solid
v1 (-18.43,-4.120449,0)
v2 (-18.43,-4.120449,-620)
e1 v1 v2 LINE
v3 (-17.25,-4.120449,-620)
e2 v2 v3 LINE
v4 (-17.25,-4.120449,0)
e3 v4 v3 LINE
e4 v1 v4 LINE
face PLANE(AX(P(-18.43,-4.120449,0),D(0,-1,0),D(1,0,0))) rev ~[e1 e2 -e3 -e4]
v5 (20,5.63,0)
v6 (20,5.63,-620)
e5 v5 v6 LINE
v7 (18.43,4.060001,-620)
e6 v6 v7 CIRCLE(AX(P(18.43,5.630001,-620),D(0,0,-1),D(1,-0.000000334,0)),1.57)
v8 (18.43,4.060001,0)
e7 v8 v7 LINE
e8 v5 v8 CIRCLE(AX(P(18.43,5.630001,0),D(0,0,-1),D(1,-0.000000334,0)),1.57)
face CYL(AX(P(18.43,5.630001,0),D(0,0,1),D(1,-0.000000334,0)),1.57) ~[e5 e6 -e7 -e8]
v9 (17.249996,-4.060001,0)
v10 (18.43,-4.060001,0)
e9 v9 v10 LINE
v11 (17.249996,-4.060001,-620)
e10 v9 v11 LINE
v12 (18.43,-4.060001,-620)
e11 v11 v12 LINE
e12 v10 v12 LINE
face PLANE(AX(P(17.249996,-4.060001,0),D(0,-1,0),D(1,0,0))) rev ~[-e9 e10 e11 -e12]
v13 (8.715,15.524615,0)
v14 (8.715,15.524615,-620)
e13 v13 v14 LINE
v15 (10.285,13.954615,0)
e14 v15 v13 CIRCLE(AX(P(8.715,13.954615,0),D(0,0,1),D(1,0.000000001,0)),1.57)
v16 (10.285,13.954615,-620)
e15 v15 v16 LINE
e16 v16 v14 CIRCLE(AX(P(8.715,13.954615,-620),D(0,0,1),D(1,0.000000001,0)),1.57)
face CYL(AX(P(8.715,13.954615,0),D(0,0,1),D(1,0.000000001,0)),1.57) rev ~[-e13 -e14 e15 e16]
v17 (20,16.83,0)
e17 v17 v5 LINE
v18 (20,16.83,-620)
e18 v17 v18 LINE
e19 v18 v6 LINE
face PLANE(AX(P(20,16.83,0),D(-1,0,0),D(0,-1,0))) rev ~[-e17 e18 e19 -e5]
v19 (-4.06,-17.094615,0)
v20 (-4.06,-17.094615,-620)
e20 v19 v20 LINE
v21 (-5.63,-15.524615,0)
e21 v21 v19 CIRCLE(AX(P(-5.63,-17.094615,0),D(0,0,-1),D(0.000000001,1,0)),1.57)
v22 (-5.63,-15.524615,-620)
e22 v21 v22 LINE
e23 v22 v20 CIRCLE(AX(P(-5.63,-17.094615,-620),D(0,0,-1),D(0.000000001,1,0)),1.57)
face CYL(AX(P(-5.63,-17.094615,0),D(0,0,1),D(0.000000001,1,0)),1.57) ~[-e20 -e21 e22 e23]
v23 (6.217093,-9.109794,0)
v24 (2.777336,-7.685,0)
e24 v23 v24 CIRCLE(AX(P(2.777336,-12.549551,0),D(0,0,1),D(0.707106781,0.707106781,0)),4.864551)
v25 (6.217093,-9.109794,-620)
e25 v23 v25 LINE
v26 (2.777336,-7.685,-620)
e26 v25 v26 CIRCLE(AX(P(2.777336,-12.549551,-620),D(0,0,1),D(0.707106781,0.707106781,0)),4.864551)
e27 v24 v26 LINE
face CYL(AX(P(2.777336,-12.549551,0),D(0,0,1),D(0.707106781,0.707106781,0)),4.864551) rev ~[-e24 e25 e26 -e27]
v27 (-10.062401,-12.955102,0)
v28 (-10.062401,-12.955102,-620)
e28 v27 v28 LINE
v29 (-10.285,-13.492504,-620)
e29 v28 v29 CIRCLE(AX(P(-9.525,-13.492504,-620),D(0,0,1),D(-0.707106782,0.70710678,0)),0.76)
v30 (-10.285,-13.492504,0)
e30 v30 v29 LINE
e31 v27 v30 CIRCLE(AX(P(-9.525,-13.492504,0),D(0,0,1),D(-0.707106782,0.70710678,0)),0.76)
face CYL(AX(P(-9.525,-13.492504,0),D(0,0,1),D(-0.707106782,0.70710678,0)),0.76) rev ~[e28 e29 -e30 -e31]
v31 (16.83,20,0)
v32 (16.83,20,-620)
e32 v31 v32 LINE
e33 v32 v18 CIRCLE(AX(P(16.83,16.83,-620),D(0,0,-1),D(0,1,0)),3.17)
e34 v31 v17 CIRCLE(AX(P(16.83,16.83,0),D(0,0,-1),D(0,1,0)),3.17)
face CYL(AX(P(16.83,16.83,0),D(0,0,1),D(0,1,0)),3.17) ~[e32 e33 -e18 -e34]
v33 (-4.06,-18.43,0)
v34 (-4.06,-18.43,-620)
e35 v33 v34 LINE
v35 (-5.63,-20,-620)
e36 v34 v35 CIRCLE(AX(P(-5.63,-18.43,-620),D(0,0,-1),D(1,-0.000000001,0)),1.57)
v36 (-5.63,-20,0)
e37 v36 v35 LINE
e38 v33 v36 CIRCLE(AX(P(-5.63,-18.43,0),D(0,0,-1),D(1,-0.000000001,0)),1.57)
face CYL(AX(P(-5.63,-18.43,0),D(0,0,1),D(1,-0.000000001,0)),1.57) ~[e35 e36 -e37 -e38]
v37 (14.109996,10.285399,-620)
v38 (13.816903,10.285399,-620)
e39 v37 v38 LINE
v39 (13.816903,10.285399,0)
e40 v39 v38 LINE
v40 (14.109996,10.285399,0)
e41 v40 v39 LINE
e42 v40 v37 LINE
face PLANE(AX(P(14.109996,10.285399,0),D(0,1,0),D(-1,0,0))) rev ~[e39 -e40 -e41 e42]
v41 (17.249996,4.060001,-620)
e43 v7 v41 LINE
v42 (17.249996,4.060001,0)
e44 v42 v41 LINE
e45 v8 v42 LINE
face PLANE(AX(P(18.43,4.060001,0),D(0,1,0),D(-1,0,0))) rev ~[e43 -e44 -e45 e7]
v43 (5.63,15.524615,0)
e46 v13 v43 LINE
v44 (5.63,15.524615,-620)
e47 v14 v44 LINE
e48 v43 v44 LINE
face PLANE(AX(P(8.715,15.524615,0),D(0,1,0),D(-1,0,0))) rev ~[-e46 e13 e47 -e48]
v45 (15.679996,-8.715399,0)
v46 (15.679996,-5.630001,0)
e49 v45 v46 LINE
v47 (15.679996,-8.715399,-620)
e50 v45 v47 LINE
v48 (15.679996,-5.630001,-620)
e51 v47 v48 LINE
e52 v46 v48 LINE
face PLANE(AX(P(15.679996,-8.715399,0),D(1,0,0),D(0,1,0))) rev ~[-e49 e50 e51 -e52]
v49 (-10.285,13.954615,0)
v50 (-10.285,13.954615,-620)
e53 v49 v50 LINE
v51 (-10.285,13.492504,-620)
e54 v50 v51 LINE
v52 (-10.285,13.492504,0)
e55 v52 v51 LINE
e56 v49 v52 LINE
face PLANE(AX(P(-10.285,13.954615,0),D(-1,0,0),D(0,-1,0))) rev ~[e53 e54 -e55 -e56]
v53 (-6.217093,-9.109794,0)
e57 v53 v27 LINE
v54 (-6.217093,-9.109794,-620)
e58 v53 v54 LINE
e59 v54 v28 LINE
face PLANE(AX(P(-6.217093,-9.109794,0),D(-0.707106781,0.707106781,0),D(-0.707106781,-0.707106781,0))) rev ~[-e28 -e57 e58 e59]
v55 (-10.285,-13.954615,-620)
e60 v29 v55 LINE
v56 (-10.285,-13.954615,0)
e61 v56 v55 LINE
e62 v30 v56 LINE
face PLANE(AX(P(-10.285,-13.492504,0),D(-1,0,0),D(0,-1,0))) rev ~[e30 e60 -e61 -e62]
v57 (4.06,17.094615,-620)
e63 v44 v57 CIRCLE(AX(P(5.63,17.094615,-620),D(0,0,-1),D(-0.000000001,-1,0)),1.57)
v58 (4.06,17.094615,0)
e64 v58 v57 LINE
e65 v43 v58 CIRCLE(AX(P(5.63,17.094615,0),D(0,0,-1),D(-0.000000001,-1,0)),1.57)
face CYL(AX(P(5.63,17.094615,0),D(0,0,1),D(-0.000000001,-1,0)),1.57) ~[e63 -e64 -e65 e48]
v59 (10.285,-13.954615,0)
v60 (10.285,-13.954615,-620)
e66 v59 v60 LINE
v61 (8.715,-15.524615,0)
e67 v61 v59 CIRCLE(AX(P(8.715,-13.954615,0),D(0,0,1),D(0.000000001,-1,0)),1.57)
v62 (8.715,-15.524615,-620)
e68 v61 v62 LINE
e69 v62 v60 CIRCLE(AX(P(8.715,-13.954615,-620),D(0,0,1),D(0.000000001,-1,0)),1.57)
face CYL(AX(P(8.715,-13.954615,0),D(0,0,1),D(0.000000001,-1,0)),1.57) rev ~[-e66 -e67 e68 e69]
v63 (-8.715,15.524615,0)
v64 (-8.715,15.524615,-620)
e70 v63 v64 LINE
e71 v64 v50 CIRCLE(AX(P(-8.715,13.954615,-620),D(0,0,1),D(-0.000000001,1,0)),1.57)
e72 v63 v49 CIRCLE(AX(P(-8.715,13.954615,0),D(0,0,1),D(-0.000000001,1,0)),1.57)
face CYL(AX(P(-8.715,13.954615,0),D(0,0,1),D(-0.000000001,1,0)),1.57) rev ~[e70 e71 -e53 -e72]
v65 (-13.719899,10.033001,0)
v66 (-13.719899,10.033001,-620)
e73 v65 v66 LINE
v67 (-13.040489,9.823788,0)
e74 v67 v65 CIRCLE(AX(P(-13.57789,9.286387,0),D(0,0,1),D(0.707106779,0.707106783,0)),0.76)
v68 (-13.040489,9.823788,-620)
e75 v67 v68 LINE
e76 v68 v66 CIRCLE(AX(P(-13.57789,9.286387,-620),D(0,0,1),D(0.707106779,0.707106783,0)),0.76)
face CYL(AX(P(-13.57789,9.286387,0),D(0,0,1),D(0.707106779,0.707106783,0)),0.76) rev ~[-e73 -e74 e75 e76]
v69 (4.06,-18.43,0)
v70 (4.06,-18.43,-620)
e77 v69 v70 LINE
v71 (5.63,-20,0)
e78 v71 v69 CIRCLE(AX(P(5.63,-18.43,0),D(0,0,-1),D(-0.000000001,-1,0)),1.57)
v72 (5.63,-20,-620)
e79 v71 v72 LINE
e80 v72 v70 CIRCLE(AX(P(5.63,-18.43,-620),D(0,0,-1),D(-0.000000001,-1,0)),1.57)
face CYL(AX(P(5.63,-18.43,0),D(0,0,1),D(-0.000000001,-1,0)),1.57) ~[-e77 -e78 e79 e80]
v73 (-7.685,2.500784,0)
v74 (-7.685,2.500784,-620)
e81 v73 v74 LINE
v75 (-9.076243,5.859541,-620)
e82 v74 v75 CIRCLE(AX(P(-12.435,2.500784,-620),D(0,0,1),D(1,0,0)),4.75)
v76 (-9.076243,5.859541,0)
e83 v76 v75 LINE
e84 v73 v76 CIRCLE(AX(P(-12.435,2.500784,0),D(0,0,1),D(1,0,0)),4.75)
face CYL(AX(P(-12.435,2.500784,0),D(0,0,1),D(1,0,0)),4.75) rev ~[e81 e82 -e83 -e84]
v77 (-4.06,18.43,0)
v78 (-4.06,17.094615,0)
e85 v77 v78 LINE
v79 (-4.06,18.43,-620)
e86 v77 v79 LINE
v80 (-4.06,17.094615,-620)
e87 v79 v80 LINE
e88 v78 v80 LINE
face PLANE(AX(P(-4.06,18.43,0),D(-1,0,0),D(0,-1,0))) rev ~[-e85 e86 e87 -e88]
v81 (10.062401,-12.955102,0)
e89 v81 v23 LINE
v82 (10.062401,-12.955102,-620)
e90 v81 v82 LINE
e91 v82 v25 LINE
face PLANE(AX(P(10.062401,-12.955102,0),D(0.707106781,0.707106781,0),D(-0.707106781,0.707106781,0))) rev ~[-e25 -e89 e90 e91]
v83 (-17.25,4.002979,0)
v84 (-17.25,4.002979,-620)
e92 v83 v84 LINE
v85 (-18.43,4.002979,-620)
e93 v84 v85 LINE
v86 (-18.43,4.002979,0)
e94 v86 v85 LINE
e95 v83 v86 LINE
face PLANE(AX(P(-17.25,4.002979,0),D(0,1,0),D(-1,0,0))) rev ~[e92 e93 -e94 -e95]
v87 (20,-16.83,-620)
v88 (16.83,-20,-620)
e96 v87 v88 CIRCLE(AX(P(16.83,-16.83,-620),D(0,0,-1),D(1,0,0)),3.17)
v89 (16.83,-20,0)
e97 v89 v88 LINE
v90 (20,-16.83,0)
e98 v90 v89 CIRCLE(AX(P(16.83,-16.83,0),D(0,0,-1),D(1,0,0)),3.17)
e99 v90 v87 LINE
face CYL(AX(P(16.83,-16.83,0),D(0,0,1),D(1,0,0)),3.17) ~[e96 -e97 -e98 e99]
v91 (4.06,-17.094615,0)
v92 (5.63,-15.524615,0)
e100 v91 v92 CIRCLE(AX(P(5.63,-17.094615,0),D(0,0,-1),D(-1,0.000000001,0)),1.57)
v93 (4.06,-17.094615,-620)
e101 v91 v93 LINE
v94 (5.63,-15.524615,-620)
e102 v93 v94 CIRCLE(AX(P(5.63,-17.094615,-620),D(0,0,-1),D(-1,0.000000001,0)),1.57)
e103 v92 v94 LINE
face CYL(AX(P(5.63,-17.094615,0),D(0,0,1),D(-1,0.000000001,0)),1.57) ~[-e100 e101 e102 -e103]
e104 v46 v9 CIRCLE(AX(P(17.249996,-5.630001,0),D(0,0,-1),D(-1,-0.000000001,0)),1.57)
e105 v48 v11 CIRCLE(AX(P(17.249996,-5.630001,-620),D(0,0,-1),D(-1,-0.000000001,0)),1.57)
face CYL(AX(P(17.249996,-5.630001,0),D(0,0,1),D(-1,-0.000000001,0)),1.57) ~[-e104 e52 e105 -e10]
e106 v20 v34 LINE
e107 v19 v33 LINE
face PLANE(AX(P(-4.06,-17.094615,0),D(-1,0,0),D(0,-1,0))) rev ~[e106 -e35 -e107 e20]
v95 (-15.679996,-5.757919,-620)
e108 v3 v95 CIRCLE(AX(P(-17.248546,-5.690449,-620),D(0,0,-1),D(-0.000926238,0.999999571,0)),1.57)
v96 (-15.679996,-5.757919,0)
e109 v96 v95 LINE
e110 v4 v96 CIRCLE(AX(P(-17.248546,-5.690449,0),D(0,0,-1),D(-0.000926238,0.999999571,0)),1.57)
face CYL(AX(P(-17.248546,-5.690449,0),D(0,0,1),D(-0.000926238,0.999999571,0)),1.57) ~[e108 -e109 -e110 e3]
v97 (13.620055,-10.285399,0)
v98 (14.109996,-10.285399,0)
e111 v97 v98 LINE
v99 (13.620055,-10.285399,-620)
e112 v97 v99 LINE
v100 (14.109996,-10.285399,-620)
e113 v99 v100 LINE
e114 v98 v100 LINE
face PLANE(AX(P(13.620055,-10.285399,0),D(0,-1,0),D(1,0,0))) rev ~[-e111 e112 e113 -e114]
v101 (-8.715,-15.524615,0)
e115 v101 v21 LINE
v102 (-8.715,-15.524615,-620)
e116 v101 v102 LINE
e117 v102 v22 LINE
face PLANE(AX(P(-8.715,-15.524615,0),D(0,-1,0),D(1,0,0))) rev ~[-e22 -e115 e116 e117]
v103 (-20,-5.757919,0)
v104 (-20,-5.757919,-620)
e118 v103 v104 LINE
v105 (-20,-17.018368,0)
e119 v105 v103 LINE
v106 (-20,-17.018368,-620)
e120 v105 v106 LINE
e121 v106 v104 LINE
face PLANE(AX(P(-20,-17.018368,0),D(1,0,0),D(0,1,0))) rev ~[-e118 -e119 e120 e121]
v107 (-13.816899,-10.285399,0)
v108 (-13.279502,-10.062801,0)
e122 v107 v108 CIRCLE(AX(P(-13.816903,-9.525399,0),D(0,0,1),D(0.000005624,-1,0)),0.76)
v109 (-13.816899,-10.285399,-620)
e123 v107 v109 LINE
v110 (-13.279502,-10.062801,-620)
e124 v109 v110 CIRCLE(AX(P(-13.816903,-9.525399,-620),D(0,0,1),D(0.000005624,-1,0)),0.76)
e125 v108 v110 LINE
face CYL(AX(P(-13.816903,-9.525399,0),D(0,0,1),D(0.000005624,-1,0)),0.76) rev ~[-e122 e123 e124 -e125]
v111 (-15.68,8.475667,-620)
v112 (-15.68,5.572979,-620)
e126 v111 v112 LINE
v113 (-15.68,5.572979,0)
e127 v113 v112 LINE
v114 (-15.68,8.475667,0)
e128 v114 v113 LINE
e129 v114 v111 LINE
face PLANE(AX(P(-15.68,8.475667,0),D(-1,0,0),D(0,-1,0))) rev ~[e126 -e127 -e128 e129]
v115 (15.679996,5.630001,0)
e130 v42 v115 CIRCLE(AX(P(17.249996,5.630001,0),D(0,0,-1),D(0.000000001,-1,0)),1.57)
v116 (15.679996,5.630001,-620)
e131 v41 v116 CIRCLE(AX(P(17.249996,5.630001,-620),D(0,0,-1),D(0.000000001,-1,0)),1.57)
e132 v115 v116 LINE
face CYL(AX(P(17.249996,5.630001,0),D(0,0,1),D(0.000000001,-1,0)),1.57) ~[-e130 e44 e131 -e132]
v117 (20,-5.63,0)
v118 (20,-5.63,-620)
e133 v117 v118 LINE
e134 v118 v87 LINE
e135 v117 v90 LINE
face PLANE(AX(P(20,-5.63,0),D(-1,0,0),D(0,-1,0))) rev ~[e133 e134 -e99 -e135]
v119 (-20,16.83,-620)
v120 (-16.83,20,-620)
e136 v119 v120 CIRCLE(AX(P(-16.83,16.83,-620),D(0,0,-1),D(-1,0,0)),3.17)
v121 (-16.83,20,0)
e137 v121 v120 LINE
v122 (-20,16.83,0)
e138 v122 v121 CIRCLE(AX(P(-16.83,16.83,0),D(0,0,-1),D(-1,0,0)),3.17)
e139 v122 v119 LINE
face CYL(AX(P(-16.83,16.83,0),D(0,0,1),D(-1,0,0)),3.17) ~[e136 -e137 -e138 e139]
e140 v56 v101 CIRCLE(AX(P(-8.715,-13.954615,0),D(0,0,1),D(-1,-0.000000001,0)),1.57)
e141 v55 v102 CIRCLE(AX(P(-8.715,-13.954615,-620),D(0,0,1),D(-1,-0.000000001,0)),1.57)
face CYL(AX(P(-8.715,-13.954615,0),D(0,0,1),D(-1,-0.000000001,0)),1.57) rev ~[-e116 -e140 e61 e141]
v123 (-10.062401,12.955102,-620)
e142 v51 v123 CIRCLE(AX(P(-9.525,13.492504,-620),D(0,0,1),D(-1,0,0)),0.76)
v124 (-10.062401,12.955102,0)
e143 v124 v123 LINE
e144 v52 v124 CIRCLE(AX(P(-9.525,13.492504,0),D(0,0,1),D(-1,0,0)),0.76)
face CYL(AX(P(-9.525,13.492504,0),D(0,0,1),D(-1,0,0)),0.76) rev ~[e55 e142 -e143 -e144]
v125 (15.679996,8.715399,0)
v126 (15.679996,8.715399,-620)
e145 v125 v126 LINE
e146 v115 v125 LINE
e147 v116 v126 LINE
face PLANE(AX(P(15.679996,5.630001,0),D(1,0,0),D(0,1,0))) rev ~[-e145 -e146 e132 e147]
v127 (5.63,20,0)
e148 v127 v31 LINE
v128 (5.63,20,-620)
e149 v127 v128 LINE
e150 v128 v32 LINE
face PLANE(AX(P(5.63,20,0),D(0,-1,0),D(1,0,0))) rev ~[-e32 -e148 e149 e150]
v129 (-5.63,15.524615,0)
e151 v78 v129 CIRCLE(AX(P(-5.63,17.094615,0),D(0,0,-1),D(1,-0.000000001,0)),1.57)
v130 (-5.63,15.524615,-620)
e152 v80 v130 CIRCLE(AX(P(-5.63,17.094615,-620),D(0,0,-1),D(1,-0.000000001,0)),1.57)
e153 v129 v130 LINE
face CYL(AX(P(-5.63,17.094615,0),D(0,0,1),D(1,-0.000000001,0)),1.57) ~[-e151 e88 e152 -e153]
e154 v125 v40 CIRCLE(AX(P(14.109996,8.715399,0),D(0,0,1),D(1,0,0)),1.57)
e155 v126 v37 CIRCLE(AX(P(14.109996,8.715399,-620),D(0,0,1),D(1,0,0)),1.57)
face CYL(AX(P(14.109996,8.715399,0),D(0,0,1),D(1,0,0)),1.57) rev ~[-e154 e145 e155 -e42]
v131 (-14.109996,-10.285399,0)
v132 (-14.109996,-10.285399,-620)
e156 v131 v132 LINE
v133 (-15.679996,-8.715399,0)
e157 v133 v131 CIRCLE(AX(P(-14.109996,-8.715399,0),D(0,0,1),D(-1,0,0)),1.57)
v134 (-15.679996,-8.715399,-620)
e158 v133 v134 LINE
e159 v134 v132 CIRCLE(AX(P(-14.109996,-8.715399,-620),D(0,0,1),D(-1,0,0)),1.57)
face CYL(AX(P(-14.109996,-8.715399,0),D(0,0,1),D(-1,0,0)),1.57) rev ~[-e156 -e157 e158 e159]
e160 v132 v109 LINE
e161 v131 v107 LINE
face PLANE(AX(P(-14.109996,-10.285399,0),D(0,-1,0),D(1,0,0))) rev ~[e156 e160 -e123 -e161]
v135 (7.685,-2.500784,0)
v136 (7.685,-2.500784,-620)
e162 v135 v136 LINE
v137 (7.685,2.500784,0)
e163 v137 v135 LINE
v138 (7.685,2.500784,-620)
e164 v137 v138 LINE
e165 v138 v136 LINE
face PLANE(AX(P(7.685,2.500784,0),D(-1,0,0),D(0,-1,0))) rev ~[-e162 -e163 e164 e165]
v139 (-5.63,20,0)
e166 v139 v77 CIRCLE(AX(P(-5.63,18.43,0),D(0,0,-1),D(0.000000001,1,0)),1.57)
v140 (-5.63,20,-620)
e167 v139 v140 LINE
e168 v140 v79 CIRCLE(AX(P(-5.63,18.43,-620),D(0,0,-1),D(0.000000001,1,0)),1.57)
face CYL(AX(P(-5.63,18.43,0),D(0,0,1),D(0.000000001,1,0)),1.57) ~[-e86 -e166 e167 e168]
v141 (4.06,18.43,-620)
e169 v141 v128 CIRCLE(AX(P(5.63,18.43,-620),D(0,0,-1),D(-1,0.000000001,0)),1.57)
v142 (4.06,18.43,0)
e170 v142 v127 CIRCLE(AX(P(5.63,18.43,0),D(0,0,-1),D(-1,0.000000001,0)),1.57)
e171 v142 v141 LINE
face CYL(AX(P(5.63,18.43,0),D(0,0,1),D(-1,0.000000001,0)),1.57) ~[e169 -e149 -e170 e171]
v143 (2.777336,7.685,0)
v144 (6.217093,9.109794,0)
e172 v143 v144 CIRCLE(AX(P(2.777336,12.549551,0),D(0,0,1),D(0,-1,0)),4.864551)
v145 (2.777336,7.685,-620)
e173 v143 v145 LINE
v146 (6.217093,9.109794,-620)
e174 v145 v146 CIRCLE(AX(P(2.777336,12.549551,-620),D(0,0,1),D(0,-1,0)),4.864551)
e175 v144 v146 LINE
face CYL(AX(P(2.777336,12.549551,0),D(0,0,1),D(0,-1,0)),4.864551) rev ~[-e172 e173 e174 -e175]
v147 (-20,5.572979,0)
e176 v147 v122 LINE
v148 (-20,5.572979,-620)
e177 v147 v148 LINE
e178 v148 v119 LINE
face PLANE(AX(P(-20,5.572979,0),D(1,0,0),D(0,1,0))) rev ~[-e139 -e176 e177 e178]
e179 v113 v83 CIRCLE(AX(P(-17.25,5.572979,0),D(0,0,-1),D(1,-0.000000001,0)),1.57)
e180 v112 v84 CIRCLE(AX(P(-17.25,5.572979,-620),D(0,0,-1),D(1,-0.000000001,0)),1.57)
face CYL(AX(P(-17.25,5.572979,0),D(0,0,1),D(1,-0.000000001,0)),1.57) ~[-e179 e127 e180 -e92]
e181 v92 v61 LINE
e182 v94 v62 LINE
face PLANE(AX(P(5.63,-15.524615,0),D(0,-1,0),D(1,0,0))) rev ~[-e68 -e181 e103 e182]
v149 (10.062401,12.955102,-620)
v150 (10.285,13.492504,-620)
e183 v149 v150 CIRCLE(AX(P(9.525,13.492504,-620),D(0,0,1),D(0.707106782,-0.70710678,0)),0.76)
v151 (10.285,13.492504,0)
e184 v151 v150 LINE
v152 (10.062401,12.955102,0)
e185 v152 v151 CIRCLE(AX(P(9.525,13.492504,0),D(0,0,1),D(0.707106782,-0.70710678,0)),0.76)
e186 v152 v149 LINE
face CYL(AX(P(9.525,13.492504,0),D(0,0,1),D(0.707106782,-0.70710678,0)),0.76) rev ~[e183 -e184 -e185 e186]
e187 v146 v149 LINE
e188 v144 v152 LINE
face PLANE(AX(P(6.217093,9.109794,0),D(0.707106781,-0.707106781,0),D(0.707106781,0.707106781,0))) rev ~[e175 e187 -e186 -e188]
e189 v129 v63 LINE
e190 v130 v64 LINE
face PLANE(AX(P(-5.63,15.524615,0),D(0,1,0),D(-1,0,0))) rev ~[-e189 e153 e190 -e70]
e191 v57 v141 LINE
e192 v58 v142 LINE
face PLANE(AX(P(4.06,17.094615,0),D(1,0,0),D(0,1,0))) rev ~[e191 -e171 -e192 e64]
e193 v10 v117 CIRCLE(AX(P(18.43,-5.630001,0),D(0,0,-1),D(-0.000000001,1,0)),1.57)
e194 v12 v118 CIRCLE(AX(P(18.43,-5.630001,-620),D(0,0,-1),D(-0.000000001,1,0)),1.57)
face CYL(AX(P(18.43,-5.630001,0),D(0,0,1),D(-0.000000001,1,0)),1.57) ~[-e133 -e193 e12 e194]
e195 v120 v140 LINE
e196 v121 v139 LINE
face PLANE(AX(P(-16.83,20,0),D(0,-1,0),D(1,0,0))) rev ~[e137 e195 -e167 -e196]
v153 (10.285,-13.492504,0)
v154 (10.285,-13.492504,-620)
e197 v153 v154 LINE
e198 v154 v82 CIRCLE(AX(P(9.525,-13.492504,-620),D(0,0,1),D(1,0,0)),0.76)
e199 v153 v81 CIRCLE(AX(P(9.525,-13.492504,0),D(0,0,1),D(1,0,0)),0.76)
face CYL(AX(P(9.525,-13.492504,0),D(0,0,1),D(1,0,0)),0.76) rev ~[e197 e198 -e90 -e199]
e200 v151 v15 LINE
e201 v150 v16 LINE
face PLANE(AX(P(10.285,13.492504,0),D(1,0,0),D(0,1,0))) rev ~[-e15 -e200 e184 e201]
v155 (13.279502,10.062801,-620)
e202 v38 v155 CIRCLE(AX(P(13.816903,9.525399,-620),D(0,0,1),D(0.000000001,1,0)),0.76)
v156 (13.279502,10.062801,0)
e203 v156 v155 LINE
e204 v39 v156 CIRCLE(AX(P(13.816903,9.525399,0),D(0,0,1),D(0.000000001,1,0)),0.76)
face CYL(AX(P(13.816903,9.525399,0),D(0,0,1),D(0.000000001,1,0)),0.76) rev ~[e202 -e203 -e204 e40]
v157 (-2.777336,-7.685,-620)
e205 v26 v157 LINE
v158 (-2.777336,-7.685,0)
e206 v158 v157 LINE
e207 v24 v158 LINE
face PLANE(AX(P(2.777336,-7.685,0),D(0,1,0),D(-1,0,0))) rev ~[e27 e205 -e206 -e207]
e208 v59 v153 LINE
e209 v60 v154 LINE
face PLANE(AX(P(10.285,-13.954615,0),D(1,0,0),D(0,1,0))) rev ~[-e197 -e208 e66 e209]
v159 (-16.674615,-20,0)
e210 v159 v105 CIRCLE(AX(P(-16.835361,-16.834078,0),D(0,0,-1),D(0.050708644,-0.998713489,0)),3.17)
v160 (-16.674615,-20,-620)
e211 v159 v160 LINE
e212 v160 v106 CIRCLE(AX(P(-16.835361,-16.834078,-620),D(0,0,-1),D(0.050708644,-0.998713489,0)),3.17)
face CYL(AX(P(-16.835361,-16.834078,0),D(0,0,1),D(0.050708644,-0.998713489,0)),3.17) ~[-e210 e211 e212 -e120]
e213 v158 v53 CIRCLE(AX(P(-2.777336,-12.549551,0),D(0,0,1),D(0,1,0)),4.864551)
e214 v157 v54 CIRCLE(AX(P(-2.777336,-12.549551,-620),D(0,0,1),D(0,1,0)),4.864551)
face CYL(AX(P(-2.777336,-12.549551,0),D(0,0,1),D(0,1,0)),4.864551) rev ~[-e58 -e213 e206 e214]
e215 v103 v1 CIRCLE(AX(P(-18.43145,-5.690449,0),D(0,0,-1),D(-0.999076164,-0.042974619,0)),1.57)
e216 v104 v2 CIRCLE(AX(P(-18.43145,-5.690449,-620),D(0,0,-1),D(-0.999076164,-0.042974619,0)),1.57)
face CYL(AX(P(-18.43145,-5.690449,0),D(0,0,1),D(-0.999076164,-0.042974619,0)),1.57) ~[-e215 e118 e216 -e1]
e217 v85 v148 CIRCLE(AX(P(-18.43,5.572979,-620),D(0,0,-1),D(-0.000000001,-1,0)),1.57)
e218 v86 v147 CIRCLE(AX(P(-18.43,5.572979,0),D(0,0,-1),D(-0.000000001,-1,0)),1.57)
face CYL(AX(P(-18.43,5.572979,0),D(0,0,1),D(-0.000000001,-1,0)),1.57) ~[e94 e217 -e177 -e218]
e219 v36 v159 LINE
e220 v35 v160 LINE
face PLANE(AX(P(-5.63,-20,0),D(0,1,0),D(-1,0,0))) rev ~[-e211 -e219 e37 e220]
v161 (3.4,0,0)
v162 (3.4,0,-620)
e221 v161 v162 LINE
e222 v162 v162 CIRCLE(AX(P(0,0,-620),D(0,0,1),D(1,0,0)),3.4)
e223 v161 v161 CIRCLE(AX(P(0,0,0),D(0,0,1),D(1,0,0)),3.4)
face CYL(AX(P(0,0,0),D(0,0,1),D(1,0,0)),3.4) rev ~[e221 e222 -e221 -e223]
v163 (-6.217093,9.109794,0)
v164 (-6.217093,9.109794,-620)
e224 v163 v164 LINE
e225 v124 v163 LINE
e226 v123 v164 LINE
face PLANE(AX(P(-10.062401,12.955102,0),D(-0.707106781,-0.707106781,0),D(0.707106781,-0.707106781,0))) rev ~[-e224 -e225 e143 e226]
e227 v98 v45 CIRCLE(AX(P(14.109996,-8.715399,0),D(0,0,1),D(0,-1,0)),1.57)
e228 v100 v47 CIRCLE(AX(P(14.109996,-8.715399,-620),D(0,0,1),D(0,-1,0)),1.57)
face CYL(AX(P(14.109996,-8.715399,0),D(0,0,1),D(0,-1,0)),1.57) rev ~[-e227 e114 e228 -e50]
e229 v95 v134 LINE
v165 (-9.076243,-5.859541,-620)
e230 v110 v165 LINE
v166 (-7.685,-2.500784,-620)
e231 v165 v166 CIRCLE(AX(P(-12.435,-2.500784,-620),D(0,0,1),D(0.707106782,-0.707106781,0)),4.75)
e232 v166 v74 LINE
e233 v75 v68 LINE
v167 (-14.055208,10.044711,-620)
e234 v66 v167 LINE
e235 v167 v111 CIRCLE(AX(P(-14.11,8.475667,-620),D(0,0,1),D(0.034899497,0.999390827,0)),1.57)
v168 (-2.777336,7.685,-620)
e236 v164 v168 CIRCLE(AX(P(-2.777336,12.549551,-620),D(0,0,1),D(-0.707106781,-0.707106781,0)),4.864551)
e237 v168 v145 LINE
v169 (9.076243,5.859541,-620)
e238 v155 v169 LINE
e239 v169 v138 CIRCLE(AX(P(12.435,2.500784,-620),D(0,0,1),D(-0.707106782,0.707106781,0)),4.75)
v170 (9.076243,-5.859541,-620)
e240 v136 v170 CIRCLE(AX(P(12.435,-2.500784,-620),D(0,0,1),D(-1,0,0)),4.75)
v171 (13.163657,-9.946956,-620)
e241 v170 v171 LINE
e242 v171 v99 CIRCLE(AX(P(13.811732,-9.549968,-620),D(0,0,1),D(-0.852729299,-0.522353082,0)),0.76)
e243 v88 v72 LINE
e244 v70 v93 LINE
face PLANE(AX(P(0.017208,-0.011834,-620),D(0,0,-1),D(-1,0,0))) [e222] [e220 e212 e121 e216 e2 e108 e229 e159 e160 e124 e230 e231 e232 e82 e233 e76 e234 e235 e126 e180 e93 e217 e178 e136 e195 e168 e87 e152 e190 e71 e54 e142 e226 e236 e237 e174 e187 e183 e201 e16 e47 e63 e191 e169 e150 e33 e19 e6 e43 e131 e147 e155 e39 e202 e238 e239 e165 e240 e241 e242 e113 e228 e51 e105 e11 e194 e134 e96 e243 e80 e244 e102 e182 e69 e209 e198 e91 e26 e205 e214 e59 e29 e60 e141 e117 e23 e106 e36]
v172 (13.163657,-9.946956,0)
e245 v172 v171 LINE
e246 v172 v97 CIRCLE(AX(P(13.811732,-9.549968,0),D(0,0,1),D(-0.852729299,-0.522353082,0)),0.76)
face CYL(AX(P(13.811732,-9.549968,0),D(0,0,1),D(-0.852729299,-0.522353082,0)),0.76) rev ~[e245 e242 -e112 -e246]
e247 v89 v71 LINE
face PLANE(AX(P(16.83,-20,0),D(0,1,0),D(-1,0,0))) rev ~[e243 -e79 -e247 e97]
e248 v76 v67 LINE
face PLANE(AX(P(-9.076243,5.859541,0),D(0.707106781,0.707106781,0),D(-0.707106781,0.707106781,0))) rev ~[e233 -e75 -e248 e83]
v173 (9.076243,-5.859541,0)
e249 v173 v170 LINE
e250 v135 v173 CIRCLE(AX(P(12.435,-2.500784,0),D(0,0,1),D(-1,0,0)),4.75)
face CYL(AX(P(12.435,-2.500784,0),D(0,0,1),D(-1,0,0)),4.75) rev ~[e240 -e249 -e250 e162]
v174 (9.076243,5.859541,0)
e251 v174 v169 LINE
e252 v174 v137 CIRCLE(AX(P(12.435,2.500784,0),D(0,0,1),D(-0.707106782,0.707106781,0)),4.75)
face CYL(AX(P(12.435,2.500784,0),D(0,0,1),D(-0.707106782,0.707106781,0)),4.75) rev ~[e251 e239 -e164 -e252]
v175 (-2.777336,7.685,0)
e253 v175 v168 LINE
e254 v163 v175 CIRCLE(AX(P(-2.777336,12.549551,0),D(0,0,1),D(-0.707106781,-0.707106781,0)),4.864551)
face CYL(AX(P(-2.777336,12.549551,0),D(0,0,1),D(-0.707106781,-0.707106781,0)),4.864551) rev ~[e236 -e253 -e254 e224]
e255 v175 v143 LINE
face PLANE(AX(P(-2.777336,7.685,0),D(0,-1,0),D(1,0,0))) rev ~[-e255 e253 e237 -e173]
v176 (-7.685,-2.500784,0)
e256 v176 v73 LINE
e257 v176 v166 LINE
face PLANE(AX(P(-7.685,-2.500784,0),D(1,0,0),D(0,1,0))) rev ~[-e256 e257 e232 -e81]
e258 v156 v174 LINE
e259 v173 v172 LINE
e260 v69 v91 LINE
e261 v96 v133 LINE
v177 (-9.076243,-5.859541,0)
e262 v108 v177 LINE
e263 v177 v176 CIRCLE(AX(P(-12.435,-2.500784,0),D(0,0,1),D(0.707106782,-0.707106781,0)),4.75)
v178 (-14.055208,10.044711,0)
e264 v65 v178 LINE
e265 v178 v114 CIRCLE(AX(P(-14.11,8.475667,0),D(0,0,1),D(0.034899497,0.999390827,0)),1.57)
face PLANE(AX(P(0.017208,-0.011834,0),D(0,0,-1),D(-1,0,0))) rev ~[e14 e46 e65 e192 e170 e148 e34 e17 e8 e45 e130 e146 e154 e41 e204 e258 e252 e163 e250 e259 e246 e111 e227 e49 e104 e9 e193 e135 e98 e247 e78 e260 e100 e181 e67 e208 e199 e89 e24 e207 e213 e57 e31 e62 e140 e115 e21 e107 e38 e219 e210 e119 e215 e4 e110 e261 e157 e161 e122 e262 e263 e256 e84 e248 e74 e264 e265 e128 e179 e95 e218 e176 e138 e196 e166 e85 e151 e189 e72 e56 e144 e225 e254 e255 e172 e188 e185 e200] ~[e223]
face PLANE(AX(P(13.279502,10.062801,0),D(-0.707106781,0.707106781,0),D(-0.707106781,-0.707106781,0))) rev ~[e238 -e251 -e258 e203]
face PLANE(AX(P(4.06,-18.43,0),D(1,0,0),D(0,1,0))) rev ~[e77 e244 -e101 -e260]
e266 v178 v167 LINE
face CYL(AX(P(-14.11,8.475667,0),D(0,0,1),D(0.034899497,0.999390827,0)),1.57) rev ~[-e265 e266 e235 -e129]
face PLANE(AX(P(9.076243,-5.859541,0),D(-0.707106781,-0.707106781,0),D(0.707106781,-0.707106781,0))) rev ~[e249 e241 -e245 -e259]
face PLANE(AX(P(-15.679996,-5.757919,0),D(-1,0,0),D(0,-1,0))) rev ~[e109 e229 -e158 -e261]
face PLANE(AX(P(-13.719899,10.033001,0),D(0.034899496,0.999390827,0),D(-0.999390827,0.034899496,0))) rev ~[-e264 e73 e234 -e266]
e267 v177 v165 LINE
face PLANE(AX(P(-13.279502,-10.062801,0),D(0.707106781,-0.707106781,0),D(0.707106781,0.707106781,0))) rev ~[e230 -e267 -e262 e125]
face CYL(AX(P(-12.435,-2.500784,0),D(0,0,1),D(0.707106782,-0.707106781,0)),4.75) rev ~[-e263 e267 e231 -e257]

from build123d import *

# Parameters (mm, degrees)
SKETCH1_R      = 3.4
EXTRUDE1_DEPTH = 620


with BuildPart() as part:
    # Sketch1 → Extrude1 (new body)
    with BuildSketch(Plane.XY):
        with BuildLine():
            Line((-8.715, -15.524615034), (-5.63, -15.524615034))
            ThreePointArc((-5.63, -15.524615034), (-4.519842354, -15.984457388), (-4.06, -17.094615034))
            Line((-4.06, -17.094615034), (-4.06, -18.43))
            ThreePointArc((-4.06, -18.43), (-4.519842354, -19.540157646), (-5.63, -20))
            Line((-5.63, -20), (-16.674615034, -20))
            ThreePointArc((-16.674615034, -20), (-18.951578385, -19.194274381), (-20, -17.018368134))
            Line((-20, -17.018368134), (-20, -5.757918808))
            ThreePointArc((-20, -5.757918808), (-19.564709668, -4.603883664), (-18.43, -4.120449326))
            Line((-18.43, -4.120449326), (-17.25, -4.120449326))
            ThreePointArc((-17.25, -4.120449326), (-16.115287682, -4.60388249), (-15.67999625, -5.757919334))
            Line((-15.67999625, -5.757919334), (-15.67999625, -8.715399492))
            ThreePointArc((-15.67999625, -8.715399492), (-15.220153896, -9.825557139), (-14.10999625, -10.285399492))
            Line((-14.10999625, -10.285399492), (-13.816898819, -10.285399492))
            ThreePointArc((-13.816898819, -10.285399492), (-13.526061711, -10.227547119), (-13.279501941, -10.062800646))
            Line((-13.279501941, -10.062800646), (-9.076242789, -5.859541495))
            ThreePointArc((-9.076242789, -5.859541495), (-8.046572221, -4.318530588), (-7.685, -2.500784284))
            Line((-7.685, -2.500784284), (-7.685, 2.500784284))
            ThreePointArc((-7.685, 2.500784284), (-8.046572221, 4.318530588), (-9.076242789, 5.859541495))
            Line((-9.076242789, 5.859541495), (-13.040489136, 9.823787841))
            ThreePointArc((-13.040489136, 9.823787841), (-13.354224618, 10.012729352), (-13.71989919, 10.033001362))
            Line((-13.71989919, 10.033001362), (-14.05520779, 10.044710596))
            ThreePointArc((-14.05520779, 10.044710596), (-15.200613642, 9.605030484), (-15.68, 8.475666998))
            Line((-15.68, 8.475666998), (-15.68, 5.572979049))
            ThreePointArc((-15.68, 5.572979049), (-16.139842354, 4.462821403), (-17.25, 4.002979049))
            Line((-17.25, 4.002979049), (-18.43, 4.002979049))
            ThreePointArc((-18.43, 4.002979049), (-19.540157646, 4.462821403), (-20, 5.572979049))
            Line((-20, 5.572979049), (-20, 13.004526564))
            Line((-20, 13.004526564), (-20, 16.83))
            ThreePointArc((-20, 16.83), (-19.071528496, 19.071528496), (-16.83, 20))
            Line((-16.83, 20), (-5.63, 20))
            ThreePointArc((-5.63, 20), (-4.519842354, 19.540157646), (-4.06, 18.43))
            Line((-4.06, 18.43), (-4.06, 17.094615034))
            ThreePointArc((-4.06, 17.094615034), (-4.519842354, 15.984457388), (-5.63, 15.524615034))
            Line((-5.63, 15.524615034), (-8.715, 15.524615034))
            ThreePointArc((-8.715, 15.524615034), (-9.825157646, 15.06477268), (-10.285, 13.954615034))
            Line((-10.285, 13.954615034), (-10.285, 13.492503602))
            ThreePointArc((-10.285, 13.492503602), (-10.227148445, 13.201664194), (-10.062401154, 12.955102448))
            Line((-10.062401154, 12.955102448), (-6.217092793, 9.109794088))
            ThreePointArc((-6.217092793, 9.109794088), (-4.63891877, 8.055291919), (-2.777335583, 7.685))
            Line((-2.777335583, 7.685), (2.777335583, 7.685))
            ThreePointArc((2.777335583, 7.685), (4.63891877, 8.055291919), (6.217092793, 9.109794088))
            Line((6.217092793, 9.109794088), (10.062401154, 12.955102448))
            ThreePointArc((10.062401154, 12.955102448), (10.227148445, 13.201664194), (10.285, 13.492503602))
            Line((10.285, 13.492503602), (10.285, 13.954615034))
            ThreePointArc((10.285, 13.954615034), (9.825157646, 15.06477268), (8.715, 15.524615034))
            Line((8.715, 15.524615034), (5.63, 15.524615034))
            ThreePointArc((5.63, 15.524615034), (4.519842354, 15.984457388), (4.06, 17.094615034))
            Line((4.06, 17.094615034), (4.06, 18.43))
            ThreePointArc((4.06, 18.43), (4.519842354, 19.540157646), (5.63, 20))
            Line((5.63, 20), (12.979635074, 20))
            Line((12.979635074, 20), (16.83, 20))
            ThreePointArc((16.83, 20), (19.071528496, 19.071528496), (20, 16.83))
            Line((20, 16.83), (20, 13.001098436))
            Line((20, 13.001098436), (20, 5.63))
            ThreePointArc((20, 5.63), (19.540157461, 4.519842693), (18.43, 4.060000526))
            Line((18.43, 4.060000526), (17.24999625, 4.060000526))
            ThreePointArc((17.24999625, 4.060000526), (16.139838603, 4.519842879), (15.67999625, 5.630000526))
            Line((15.67999625, 5.630000526), (15.67999625, 8.715399492))
            ThreePointArc((15.67999625, 8.715399492), (15.220153896, 9.825557139), (14.10999625, 10.285399492))
            Line((14.10999625, 10.285399492), (13.816903094, 10.285399492))
            ThreePointArc((13.816903094, 10.285399492), (13.526063686, 10.227547937), (13.279501941, 10.062800646))
            Line((13.279501941, 10.062800646), (9.076242789, 5.859541495))
            ThreePointArc((9.076242789, 5.859541495), (8.046572221, 4.318530588), (7.685, 2.500784284))
            Line((7.685, 2.500784284), (7.685, -2.500784284))
            ThreePointArc((7.685, -2.500784284), (8.046572221, -4.318530588), (9.076242789, -5.859541495))
            Line((9.076242789, -5.859541495), (13.163657296, -9.946956002))
            ThreePointArc((13.163657296, -9.946956002), (13.35903797, -10.160433474), (13.6200547, -10.285399492))
            Line((13.6200547, -10.285399492), (14.10999625, -10.285399492))
            ThreePointArc((14.10999625, -10.285399492), (15.220153896, -9.825557139), (15.67999625, -8.715399492))
            Line((15.67999625, -8.715399492), (15.67999625, -5.630000526))
            ThreePointArc((15.67999625, -5.630000526), (16.139838603, -4.519842879), (17.24999625, -4.060000526))
            Line((17.24999625, -4.060000526), (18.43, -4.060000526))
            ThreePointArc((18.43, -4.060000526), (19.540157461, -4.519842693), (20, -5.63))
            Line((20, -5.63), (20, -16.83))
            ThreePointArc((20, -16.83), (19.071528496, -19.071528496), (16.83, -20))
            Line((16.83, -20), (13, -20))
            Line((13, -20), (5.63, -20))
            ThreePointArc((5.63, -20), (4.519842354, -19.540157646), (4.06, -18.43))
            Line((4.06, -18.43), (4.06, -17.094615034))
            ThreePointArc((4.06, -17.094615034), (4.519842354, -15.984457388), (5.63, -15.524615034))
            Line((5.63, -15.524615034), (8.715, -15.524615034))
            ThreePointArc((8.715, -15.524615034), (9.825157646, -15.06477268), (10.285, -13.954615034))
            Line((10.285, -13.954615034), (10.285, -13.492503602))
            ThreePointArc((10.285, -13.492503602), (10.227148445, -13.201664194), (10.062401154, -12.955102448))
            Line((10.062401154, -12.955102448), (6.217092793, -9.109794088))
            ThreePointArc((6.217092793, -9.109794088), (4.63891877, -8.055291919), (2.777335583, -7.685))
            Line((2.777335583, -7.685), (-2.777335583, -7.685))
            ThreePointArc((-2.777335583, -7.685), (-4.63891877, -8.055291919), (-6.217092793, -9.109794088))
            Line((-6.217092793, -9.109794088), (-10.062401154, -12.955102448))
            ThreePointArc((-10.062401154, -12.955102448), (-10.227148445, -13.201664194), (-10.285, -13.492503602))
            Line((-10.285, -13.492503602), (-10.285, -13.954615034))
            ThreePointArc((-10.285, -13.954615034), (-9.825157646, -15.06477268), (-8.715, -15.524615034))
        make_face()
        Circle(SKETCH1_R, mode=Mode.SUBTRACT)
    extrude(amount=-EXTRUDE1_DEPTH)


solid = part.part
